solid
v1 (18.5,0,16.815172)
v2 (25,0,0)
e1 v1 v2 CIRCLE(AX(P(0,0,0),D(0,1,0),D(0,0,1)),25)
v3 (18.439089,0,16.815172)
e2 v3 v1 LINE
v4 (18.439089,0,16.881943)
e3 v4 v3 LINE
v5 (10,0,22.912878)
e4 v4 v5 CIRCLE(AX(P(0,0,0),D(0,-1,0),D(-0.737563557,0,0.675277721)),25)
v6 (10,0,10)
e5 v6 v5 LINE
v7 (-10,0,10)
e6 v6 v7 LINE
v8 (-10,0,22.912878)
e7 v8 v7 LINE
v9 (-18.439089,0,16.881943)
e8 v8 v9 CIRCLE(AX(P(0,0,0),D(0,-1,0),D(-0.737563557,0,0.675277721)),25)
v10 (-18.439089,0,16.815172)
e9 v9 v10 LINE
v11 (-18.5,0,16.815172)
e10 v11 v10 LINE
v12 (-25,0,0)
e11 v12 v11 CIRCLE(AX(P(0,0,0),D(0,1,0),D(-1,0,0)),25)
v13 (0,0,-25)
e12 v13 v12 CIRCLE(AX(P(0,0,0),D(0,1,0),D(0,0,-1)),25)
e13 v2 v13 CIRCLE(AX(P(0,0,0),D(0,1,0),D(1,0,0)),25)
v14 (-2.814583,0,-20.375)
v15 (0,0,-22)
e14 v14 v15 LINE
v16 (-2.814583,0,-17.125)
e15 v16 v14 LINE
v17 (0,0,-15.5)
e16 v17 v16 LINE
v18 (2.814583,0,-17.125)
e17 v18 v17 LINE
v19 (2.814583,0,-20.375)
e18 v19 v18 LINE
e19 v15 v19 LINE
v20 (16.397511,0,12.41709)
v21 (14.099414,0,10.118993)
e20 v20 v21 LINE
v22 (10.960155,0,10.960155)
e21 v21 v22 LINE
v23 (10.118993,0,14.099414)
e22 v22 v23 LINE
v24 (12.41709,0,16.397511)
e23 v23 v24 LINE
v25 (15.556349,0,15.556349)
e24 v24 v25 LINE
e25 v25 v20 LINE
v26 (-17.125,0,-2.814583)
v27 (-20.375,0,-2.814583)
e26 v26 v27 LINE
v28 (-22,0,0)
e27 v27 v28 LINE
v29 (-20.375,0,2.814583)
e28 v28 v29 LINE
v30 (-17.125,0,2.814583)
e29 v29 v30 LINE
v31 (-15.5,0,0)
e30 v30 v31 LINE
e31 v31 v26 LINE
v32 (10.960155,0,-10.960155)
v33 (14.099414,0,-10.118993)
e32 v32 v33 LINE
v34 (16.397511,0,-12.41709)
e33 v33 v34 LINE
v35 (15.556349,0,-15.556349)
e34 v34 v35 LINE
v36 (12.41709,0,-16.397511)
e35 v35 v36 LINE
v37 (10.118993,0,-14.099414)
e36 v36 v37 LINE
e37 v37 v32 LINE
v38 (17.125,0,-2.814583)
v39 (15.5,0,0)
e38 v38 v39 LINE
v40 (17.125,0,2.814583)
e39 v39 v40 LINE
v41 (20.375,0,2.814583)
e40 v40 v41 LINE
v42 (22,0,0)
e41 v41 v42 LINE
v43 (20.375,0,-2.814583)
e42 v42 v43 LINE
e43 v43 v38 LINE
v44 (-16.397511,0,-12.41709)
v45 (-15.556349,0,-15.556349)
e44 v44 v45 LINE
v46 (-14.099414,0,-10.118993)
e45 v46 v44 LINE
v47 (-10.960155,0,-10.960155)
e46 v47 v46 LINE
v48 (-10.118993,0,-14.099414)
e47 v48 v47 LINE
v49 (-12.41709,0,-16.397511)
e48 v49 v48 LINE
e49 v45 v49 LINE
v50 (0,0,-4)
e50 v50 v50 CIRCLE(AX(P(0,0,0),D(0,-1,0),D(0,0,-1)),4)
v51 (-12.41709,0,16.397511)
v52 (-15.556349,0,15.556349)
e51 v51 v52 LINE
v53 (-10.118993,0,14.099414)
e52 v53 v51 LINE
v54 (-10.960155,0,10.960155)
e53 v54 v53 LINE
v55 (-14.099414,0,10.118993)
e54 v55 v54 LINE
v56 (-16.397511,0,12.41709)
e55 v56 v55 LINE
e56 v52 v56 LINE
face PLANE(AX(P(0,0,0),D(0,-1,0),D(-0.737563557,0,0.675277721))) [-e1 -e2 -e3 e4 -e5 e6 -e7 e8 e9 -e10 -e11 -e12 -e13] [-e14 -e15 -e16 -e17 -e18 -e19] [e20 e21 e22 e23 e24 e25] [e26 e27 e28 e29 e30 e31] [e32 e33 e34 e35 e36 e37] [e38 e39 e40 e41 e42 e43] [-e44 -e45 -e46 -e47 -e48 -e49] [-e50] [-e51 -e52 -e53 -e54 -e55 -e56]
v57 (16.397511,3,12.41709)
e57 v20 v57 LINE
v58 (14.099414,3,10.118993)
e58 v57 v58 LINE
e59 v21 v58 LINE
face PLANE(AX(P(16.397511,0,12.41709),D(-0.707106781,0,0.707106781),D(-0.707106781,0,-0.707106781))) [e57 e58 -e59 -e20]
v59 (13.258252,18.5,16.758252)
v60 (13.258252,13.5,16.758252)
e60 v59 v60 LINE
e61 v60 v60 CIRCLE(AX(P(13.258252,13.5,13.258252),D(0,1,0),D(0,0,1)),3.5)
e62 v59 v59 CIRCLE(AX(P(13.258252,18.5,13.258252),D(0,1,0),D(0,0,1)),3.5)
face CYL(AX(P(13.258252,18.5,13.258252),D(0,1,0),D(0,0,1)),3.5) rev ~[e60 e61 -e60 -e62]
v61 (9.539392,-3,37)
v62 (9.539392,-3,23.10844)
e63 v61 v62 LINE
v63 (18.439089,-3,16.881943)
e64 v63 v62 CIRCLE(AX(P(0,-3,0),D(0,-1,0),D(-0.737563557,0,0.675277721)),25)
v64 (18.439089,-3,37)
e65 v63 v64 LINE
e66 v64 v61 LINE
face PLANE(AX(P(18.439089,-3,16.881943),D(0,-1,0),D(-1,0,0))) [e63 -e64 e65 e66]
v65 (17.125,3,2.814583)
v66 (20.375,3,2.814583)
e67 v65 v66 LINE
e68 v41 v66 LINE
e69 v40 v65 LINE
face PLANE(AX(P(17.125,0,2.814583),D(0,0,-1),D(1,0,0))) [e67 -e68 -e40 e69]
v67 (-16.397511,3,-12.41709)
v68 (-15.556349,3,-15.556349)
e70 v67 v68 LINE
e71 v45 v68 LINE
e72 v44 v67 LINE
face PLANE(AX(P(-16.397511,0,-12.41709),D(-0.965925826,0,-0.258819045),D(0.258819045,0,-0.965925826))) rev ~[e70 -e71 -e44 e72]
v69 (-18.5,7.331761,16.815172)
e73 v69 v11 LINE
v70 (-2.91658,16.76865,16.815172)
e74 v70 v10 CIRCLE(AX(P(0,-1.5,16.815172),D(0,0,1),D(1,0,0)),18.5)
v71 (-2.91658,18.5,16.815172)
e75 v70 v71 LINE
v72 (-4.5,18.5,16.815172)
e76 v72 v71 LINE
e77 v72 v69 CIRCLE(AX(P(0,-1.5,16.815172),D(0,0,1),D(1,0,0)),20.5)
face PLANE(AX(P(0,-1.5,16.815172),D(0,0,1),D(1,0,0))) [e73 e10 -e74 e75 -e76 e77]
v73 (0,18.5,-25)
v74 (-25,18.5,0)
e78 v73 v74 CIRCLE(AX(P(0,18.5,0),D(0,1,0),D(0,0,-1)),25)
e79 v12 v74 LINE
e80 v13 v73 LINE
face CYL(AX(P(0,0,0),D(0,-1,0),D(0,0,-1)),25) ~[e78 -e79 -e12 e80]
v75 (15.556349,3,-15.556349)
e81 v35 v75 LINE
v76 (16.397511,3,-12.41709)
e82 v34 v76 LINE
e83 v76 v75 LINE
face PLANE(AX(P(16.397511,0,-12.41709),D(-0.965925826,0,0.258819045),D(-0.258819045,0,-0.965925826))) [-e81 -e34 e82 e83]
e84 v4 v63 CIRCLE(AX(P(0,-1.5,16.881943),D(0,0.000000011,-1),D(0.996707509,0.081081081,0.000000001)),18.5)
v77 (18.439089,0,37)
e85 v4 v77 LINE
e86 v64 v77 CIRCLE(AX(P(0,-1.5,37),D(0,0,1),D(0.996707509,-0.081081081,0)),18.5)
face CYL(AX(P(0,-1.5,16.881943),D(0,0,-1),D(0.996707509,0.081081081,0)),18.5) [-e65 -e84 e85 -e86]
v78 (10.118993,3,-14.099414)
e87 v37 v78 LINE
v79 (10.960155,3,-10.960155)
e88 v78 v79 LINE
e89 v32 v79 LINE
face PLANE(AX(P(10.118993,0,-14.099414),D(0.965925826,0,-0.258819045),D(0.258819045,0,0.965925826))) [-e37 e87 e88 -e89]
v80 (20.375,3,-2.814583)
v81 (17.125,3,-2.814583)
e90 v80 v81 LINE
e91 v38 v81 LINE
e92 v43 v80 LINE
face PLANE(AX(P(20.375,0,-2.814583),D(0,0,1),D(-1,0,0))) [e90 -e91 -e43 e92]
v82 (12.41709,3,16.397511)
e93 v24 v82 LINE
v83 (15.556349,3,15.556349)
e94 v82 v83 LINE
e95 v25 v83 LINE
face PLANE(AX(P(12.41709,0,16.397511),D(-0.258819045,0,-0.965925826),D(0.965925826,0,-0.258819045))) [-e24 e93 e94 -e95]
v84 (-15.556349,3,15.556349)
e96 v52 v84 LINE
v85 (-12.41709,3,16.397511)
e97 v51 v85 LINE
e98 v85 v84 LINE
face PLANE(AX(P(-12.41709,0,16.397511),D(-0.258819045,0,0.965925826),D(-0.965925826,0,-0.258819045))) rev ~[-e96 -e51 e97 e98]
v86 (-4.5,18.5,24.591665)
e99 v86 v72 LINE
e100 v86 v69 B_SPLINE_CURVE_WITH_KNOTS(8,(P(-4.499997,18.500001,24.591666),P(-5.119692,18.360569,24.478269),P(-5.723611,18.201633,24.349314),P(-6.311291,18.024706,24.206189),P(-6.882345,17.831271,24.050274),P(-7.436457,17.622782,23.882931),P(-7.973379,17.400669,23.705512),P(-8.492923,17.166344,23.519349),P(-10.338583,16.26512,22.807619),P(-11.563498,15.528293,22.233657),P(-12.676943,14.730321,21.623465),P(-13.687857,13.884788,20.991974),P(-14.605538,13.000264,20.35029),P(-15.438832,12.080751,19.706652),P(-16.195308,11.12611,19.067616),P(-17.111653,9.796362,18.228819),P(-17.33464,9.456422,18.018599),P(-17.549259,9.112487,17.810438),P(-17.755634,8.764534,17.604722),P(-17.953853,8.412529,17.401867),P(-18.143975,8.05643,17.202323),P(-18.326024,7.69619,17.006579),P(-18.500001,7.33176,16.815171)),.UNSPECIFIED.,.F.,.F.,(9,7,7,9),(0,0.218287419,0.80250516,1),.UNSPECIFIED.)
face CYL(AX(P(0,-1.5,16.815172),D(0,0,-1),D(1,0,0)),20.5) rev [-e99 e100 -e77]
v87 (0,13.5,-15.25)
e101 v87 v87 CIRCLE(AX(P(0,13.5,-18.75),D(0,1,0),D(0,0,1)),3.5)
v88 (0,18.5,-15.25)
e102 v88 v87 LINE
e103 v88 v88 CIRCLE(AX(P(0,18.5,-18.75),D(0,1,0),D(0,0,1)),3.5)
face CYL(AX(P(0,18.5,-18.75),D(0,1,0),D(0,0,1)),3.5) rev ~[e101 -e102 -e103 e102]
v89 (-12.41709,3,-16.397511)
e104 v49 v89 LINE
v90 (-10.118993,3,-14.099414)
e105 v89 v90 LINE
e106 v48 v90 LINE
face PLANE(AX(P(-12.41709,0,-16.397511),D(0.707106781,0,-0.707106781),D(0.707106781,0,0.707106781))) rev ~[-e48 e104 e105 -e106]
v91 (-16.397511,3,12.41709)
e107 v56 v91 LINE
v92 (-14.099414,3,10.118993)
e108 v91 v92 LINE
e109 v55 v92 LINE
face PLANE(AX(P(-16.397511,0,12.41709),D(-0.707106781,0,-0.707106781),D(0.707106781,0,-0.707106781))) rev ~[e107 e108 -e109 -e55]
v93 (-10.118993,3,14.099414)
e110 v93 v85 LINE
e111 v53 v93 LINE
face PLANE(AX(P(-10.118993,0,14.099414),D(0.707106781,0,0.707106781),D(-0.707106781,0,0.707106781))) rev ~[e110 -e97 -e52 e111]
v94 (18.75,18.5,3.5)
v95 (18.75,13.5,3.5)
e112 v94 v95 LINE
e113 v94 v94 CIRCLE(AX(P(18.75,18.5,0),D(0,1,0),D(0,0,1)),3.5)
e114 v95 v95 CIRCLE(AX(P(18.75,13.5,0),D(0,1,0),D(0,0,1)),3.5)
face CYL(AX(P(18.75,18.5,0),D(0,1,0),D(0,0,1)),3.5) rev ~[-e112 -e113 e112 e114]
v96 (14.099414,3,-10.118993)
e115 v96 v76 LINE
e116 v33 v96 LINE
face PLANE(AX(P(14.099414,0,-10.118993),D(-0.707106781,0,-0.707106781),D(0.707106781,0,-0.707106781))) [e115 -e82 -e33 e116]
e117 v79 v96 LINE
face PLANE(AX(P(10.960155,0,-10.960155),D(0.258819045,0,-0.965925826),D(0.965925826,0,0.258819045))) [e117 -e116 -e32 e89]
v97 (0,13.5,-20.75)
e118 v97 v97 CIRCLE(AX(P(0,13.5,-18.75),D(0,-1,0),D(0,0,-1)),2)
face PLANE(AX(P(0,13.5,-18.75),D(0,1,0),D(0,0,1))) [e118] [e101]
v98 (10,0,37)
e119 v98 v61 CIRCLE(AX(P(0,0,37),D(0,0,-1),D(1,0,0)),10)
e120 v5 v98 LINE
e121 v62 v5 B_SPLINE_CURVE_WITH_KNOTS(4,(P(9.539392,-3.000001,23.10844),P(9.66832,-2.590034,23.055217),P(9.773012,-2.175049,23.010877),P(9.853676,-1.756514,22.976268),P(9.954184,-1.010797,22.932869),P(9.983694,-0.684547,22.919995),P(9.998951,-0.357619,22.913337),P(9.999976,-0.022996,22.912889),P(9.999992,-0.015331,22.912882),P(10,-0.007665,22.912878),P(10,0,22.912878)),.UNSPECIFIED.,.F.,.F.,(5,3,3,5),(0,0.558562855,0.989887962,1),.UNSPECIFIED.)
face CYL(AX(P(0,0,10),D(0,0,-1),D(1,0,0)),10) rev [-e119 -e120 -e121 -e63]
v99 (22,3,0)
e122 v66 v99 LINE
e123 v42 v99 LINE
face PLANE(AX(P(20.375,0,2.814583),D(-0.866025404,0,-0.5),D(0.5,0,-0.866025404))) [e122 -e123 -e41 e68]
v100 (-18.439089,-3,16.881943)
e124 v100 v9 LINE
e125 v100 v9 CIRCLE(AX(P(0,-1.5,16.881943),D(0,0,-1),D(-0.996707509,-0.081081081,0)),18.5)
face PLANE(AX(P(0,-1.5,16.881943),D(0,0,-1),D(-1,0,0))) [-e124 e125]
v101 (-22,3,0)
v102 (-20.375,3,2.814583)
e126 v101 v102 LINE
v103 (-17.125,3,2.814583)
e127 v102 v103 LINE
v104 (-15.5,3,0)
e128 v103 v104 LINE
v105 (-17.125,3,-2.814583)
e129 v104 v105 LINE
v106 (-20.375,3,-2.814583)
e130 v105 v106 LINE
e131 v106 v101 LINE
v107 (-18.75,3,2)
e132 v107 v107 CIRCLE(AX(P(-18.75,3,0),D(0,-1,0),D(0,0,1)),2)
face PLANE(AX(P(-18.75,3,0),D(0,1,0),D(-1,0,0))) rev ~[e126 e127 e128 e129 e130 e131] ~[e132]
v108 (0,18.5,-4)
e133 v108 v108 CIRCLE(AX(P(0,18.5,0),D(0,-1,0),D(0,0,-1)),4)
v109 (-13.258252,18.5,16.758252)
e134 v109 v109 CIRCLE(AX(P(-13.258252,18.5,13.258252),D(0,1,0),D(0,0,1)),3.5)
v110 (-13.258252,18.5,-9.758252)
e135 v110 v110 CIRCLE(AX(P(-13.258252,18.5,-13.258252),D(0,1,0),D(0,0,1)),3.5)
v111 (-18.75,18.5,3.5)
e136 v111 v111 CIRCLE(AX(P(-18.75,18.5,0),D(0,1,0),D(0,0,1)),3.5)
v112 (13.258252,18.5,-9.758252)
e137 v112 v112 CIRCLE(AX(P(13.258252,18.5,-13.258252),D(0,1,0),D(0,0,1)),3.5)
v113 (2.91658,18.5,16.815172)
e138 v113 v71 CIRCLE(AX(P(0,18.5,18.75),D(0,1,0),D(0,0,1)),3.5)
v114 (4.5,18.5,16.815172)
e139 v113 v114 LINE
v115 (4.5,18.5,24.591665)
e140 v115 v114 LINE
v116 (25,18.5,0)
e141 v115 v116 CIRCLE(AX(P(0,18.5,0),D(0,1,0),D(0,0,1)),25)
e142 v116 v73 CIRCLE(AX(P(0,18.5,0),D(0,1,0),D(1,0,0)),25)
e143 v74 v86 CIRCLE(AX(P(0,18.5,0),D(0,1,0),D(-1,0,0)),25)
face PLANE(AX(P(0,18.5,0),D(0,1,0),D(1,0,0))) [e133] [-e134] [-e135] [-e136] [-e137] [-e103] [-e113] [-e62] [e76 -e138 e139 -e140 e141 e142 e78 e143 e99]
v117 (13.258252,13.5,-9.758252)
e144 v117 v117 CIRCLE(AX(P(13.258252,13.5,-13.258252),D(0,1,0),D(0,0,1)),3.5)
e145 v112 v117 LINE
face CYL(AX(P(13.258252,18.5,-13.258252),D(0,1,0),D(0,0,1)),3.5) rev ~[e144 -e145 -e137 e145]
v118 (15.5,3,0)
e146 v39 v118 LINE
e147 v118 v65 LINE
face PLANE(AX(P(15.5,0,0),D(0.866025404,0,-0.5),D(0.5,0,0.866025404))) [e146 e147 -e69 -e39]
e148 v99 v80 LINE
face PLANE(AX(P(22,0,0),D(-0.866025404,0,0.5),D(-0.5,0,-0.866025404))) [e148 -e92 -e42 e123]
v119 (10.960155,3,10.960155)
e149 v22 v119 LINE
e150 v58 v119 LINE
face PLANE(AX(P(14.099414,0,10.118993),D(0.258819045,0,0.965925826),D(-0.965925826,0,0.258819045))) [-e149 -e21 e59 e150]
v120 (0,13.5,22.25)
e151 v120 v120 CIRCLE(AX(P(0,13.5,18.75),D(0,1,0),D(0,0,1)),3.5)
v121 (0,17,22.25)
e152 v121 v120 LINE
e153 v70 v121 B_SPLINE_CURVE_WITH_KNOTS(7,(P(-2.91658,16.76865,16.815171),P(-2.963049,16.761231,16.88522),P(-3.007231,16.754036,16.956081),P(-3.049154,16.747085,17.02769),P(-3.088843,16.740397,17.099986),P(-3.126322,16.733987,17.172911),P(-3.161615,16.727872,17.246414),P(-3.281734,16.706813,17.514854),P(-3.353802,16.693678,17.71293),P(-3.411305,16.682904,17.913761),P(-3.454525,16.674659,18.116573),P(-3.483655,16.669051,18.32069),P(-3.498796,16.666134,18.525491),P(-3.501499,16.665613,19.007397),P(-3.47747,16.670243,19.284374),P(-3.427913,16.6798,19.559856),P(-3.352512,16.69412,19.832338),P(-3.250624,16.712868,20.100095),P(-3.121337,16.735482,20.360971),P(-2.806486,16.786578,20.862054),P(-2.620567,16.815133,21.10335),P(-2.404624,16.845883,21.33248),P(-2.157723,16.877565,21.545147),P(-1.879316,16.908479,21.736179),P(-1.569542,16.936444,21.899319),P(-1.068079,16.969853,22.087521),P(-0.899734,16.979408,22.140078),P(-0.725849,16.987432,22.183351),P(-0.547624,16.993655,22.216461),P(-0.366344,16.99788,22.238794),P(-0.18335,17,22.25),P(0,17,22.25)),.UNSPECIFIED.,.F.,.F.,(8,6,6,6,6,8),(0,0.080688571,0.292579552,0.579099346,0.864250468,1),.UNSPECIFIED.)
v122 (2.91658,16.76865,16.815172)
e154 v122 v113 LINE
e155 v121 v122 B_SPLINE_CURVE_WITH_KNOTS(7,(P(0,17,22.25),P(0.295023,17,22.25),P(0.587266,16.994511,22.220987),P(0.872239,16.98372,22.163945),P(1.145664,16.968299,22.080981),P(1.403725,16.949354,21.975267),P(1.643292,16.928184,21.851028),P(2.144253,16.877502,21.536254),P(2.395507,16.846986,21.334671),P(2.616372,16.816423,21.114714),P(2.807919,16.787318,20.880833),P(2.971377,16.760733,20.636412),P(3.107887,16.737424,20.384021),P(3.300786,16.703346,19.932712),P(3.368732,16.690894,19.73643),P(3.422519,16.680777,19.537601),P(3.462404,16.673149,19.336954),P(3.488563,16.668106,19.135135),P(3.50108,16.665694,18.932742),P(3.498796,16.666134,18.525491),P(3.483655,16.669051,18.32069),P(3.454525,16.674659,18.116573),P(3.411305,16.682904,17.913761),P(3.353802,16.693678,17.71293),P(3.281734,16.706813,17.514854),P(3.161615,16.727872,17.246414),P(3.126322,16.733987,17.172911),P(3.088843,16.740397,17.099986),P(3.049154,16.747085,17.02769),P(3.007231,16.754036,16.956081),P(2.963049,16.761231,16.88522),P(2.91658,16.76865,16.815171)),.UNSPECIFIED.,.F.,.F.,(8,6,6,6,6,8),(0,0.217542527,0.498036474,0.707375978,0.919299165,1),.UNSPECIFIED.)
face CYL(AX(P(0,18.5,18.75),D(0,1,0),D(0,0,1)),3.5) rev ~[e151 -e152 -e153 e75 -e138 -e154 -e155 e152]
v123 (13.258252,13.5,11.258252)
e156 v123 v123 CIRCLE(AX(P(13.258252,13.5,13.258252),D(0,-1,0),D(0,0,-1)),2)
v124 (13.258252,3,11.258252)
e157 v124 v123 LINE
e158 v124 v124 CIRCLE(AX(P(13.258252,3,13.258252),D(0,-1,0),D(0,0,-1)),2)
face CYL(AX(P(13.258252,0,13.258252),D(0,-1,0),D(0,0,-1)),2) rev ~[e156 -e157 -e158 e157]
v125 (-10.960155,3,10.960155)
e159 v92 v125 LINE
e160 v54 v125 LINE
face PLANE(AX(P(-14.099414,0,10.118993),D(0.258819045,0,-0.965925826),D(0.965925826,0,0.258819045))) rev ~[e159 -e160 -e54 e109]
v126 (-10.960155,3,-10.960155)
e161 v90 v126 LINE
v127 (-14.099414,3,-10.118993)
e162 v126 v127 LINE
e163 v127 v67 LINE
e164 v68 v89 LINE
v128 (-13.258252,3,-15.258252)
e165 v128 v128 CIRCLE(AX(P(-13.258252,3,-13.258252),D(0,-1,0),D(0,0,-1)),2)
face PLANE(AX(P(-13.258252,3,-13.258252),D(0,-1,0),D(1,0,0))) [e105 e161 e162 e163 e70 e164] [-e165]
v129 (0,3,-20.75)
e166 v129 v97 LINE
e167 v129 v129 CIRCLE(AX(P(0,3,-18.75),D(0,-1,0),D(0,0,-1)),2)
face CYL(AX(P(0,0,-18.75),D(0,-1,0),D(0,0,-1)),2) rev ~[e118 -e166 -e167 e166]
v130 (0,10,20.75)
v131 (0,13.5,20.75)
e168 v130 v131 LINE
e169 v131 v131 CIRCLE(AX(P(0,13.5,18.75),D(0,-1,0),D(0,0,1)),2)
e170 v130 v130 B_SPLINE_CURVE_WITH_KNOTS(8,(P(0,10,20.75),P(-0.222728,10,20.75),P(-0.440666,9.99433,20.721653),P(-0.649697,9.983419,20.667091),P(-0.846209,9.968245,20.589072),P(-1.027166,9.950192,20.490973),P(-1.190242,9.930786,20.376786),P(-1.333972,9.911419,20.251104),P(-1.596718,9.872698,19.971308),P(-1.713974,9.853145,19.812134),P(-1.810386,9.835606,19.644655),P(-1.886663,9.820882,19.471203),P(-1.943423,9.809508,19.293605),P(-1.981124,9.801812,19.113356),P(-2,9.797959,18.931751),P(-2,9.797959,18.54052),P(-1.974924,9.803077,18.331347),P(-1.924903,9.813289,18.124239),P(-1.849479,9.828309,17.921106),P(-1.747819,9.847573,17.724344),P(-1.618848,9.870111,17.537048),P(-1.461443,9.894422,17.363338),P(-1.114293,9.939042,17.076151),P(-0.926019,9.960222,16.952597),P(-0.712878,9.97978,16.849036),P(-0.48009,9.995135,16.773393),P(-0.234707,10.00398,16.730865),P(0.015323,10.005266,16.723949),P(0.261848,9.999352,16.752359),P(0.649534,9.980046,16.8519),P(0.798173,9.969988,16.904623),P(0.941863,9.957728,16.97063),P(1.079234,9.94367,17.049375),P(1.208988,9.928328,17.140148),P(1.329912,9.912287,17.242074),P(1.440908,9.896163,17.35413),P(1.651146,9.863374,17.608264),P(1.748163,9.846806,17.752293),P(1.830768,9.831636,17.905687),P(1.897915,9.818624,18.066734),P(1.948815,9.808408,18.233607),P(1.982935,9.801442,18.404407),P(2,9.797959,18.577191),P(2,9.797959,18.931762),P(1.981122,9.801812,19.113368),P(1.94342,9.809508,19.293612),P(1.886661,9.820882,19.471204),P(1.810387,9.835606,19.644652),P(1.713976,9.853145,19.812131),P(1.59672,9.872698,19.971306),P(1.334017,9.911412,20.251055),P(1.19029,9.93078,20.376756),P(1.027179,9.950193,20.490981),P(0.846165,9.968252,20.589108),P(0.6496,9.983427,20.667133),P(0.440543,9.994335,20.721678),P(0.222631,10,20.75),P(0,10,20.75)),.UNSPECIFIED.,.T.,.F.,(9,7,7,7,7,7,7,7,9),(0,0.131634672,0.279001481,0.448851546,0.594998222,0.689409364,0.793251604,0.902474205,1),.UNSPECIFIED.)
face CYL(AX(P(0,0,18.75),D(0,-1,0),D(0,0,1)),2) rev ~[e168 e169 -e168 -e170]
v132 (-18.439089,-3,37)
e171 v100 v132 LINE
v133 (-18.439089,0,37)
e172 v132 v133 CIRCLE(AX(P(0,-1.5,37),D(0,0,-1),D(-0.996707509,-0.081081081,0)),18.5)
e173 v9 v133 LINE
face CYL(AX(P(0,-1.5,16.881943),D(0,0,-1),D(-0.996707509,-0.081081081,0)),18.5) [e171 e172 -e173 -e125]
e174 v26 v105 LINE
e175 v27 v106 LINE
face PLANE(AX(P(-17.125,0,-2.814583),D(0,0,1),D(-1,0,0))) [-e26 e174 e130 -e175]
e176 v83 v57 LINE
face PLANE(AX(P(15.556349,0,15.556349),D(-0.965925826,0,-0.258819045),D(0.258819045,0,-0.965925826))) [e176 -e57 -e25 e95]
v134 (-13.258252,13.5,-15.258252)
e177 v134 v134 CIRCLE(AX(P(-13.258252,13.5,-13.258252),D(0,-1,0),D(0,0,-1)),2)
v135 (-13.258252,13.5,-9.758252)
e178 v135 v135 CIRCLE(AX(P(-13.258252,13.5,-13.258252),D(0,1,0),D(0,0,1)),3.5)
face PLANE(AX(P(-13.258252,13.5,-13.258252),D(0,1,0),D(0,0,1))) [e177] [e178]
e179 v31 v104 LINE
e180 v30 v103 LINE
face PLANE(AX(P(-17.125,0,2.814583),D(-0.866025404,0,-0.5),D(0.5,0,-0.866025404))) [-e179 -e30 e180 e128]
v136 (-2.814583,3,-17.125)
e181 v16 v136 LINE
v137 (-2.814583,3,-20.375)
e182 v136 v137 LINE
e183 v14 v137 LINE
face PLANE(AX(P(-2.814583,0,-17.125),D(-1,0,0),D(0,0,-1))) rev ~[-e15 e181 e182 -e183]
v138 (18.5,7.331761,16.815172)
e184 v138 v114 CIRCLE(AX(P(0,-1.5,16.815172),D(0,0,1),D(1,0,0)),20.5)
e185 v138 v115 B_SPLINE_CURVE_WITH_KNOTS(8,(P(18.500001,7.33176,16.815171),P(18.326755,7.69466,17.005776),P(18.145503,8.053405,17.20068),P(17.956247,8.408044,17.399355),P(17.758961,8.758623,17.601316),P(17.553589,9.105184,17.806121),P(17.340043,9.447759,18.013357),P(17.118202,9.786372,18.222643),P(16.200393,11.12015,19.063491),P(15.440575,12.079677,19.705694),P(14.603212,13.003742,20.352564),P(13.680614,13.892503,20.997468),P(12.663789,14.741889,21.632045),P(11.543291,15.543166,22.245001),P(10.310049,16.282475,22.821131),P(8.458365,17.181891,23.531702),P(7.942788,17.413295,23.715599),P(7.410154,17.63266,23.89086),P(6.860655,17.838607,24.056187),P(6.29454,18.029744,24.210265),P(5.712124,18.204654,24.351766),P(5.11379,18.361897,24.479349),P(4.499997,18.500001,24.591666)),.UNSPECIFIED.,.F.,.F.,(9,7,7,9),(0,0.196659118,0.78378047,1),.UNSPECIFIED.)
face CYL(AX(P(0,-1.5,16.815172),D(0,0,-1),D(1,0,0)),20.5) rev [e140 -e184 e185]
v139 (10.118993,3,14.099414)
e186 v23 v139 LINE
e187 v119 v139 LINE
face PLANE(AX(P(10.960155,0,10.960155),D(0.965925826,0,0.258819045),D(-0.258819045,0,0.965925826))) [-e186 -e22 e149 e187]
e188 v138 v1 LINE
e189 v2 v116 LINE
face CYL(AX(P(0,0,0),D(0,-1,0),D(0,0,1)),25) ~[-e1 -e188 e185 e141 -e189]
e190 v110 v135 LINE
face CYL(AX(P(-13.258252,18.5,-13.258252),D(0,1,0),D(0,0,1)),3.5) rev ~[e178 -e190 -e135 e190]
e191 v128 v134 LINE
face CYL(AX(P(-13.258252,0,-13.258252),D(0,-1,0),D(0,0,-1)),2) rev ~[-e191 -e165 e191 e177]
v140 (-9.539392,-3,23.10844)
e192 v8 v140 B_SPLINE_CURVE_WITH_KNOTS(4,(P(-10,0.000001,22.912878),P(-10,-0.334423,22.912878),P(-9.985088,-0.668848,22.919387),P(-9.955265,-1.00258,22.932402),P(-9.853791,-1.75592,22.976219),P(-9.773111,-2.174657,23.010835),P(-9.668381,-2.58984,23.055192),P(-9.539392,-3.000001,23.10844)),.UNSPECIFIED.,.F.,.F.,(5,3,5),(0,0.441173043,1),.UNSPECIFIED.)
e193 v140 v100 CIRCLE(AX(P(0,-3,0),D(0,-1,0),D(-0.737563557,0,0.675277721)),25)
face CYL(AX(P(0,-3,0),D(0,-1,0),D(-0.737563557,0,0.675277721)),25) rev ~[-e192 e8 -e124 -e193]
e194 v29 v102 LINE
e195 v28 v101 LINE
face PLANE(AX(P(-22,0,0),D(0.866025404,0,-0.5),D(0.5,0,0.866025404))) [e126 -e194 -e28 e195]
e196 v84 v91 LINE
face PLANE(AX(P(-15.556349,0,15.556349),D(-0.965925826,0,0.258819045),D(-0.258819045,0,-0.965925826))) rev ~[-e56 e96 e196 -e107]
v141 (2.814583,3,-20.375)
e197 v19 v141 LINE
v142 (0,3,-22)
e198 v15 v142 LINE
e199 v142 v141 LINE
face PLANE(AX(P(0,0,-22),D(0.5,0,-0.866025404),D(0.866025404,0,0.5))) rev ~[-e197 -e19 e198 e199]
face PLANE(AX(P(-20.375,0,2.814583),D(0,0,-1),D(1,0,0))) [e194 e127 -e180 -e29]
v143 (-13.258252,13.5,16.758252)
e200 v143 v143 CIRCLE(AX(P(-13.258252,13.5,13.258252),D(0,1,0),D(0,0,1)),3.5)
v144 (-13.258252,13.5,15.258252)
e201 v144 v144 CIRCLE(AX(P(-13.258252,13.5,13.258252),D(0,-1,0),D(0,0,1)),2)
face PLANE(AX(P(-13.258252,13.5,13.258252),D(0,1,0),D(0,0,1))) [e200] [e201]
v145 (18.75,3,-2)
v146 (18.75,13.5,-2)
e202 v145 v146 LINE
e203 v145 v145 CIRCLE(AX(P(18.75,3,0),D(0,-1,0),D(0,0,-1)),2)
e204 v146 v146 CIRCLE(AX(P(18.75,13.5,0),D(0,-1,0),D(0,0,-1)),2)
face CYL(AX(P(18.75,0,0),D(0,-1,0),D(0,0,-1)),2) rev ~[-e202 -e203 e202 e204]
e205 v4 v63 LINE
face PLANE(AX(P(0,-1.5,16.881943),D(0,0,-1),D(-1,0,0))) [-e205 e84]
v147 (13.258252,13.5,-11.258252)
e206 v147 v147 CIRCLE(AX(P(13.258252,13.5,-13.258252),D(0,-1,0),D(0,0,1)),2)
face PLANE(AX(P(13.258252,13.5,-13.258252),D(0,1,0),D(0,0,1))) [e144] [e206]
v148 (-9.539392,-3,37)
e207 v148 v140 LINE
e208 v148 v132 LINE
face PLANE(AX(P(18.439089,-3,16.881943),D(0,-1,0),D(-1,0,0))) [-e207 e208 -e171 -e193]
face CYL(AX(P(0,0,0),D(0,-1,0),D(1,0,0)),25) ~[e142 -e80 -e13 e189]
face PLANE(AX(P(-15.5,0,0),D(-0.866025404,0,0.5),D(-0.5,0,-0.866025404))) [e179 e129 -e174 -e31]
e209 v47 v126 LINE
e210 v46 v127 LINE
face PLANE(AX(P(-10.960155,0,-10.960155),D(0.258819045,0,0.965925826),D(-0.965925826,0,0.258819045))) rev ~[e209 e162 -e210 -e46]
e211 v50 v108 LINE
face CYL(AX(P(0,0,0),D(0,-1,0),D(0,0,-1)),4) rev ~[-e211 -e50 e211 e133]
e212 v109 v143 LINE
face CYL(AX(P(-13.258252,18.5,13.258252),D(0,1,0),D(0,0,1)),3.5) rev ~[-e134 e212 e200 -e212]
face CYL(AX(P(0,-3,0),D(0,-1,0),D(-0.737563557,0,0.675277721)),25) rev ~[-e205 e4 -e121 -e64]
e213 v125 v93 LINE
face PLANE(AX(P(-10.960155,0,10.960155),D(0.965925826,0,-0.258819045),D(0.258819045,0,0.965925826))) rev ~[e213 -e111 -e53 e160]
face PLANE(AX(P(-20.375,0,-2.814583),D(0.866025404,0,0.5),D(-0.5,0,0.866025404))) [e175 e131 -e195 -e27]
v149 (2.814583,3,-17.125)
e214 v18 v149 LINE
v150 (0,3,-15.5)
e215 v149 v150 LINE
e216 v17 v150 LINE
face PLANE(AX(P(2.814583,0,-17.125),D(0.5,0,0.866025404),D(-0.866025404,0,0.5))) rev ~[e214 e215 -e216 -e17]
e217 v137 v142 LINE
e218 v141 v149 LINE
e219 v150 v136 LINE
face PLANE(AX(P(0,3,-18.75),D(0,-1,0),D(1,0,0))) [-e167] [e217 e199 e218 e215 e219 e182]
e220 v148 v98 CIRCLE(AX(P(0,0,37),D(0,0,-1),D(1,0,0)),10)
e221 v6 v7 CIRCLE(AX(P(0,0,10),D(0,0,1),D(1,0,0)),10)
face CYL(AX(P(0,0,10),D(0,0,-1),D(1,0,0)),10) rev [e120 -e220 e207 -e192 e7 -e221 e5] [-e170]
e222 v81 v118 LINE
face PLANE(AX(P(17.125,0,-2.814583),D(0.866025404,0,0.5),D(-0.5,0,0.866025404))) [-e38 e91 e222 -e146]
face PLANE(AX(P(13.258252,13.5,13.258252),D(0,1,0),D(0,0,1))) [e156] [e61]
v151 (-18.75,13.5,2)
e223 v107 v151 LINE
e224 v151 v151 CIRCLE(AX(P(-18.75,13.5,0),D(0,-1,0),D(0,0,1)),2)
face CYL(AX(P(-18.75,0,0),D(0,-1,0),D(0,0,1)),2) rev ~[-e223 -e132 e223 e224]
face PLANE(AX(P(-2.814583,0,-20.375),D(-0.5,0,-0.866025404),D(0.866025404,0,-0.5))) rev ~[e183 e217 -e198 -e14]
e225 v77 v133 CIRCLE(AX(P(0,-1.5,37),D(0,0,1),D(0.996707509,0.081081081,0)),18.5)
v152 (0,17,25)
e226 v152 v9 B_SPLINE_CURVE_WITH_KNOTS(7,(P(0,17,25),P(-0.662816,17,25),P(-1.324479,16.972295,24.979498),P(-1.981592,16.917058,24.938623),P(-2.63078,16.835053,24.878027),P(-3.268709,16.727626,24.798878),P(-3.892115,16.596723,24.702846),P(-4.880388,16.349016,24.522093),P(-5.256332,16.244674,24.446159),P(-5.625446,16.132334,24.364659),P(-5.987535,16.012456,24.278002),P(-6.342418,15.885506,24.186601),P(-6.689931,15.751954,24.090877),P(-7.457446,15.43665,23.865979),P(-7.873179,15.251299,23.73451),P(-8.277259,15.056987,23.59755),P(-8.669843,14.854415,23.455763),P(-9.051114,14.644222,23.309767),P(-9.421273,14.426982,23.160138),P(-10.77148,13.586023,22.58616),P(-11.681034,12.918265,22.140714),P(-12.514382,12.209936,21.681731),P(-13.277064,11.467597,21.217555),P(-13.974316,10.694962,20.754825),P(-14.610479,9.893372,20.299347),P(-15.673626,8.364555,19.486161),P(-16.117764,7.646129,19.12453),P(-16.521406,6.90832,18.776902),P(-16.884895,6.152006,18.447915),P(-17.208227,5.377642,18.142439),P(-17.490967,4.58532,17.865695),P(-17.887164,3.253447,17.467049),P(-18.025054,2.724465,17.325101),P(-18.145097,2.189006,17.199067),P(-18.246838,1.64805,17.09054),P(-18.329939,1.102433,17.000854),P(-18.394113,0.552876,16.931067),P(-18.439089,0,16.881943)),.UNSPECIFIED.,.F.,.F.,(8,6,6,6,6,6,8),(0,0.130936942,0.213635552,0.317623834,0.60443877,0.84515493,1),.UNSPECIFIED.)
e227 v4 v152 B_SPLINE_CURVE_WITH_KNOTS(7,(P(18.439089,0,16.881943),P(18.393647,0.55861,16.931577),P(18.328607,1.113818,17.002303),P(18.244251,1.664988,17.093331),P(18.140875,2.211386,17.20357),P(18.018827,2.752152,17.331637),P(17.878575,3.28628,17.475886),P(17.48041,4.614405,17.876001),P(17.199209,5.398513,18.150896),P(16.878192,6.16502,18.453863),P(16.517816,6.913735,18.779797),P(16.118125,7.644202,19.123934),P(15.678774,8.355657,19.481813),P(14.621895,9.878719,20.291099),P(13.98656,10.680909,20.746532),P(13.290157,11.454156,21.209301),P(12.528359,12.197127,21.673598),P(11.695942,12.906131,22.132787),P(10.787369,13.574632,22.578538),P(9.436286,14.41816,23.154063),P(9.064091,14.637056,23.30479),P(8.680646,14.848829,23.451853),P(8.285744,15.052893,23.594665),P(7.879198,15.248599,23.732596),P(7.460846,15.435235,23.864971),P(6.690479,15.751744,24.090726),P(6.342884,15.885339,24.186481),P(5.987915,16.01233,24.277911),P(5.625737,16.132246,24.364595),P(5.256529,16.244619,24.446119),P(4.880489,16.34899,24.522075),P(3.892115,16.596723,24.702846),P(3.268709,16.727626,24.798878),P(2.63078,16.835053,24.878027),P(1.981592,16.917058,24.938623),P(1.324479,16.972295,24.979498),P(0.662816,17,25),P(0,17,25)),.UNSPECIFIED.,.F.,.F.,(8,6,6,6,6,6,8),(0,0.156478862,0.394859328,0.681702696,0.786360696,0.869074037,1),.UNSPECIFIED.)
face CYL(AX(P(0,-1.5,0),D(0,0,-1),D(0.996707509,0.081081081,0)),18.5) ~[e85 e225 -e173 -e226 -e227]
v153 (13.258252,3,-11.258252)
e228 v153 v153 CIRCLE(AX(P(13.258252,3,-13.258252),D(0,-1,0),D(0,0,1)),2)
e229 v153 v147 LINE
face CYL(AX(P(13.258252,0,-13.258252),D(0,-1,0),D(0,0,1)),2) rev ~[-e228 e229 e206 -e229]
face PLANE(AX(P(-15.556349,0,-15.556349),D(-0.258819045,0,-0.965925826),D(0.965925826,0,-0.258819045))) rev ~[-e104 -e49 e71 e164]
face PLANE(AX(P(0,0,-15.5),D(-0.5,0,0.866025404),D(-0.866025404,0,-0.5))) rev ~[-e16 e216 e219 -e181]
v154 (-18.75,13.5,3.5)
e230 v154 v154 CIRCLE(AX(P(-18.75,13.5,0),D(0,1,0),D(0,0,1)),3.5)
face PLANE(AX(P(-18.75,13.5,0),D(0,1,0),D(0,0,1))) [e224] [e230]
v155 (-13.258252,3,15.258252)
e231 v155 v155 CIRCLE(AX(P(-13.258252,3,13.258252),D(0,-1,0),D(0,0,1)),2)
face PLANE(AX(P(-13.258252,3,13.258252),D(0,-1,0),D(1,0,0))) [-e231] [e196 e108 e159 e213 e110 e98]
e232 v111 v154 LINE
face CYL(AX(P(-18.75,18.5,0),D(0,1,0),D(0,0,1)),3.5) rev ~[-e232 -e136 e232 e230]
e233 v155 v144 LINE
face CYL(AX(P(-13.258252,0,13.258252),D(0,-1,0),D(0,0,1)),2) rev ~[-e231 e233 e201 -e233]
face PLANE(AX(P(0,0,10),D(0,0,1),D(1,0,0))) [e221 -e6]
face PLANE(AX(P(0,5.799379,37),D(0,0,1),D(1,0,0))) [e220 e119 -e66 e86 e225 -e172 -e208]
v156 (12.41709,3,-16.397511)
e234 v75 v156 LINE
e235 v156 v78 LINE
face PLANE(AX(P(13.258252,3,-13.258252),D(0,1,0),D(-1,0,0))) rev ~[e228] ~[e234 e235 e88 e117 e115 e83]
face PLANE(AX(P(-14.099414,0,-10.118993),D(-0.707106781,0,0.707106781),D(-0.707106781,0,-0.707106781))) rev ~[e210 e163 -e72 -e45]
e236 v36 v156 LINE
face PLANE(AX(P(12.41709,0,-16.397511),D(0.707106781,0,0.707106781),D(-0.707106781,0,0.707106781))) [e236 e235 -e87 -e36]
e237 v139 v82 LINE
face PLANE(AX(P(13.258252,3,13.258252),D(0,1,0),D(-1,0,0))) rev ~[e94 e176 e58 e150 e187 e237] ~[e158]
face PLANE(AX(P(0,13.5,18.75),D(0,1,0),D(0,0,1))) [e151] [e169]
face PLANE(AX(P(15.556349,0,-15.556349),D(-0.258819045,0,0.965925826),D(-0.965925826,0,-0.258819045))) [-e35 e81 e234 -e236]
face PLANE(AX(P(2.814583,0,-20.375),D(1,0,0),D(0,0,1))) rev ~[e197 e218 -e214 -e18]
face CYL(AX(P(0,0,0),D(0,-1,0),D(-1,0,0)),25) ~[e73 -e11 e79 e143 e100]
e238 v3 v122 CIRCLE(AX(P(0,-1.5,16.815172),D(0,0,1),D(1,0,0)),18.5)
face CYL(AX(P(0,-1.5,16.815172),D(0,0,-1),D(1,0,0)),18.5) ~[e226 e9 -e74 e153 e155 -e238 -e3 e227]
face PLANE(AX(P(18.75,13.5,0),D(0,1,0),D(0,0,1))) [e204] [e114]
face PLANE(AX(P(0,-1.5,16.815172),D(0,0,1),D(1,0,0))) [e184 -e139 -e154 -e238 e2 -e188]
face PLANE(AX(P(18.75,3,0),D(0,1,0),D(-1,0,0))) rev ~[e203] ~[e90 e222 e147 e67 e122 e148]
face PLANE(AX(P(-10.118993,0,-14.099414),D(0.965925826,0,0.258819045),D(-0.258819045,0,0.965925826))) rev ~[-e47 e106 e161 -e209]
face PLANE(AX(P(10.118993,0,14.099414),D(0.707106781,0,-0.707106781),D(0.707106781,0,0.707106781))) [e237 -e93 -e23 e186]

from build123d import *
from build123d.topology import SkipClean

# Parameters (mm, degrees)
EXTRUDE_2_DEPTH     = 18.5
EXTRUDE_3_DEPTH     = 37
SKETCH_7_R          = 4
SKETCH_7_R_2        = 2
CUT_EXTRUDE_1_DEPTH = 49.33477026
EXTRUDE_START       = -20.118057
EXTRUDE_5_DEPTH     = 20.118057
SKETCH_9_R          = 25
CUT_EXTRUDE_2_DEPTH = 3
CUT_EXTRUDE_3_REACH = 54.113
SKETCH_10_R         = 20.5
SKETCH_10_R_2       = 18.5
SKETCH_11_R         = 3.5
CUT_EXTRUDE_4_DEPTH = 5
CUT_EXTRUDE_5_DEPTH = 3
SKETCH_13_R         = 10
CUT_EXTRUDE_7_DEPTH = 47.821469602


with BuildPart() as part:
    # 草图1 → 凸台-拉伸2 (new body)
    with BuildSketch(Plane(origin=(0, 0, 0), x_dir=(1, 0, 0), z_dir=(0, 1, 0))):
        with BuildLine():
            ThreePointArc((0, 25), (-17.67766953, 17.67766953), (-25, 0))
            ThreePointArc((-25, 0), (-17.67766953, -17.67766953), (0, -25))
            ThreePointArc((0, -25), (17.67766953, -17.67766953), (25, 0))
            ThreePointArc((25, 0), (17.67766953, 17.67766953), (0, 25))
        make_face()
    extrude(amount=EXTRUDE_2_DEPTH)

    # 草图4 → 凸台-拉伸3 (add)
    with BuildSketch(Plane.XY):
        with BuildLine():
            Line((-18.439088915, 0), (18.439088915, 0))
            ThreePointArc((18.439088915, 0), (0, 17), (-18.439088915, 0))
        make_face()
    extrude(amount=EXTRUDE_3_DEPTH)

    # 草图7 → 切除-拉伸1 (cut, through all)
    with BuildSketch(Plane.XZ):
        with Locations(Location((0, 0, 0), (0, 0, 270))):
            Circle(SKETCH_7_R)
        with Locations(Location((18.75, 0, 0), (0, 0, 270))):
            Circle(SKETCH_7_R_2)
        with Locations(Location((13.258252147, 13.258252147, 0), (0, 0, 270))):
            Circle(SKETCH_7_R_2)
        with Locations(Location((0, 18.75, 0), (0, 0, 90))):
            Circle(SKETCH_7_R_2)
        with Locations(Location((-18.75, 0, 0), (0, 0, 90))):
            Circle(SKETCH_7_R_2)
        with Locations(Location((-13.258252147, 13.258252147, 0), (0, 0, 90))):
            Circle(SKETCH_7_R_2)
        with Locations(Location((13.258252147, -13.258252147, 0), (0, 0, 90))):
            Circle(SKETCH_7_R_2)
        with Locations(Location((0, -18.75, 0), (0, 0, 270))):
            Circle(SKETCH_7_R_2)
        with Locations(Location((-13.258252147, -13.258252147, 0), (0, 0, 270))):
            Circle(SKETCH_7_R_2)
    extrude(amount=-CUT_EXTRUDE_1_DEPTH, mode=Mode.SUBTRACT)

    # 草图8 → 凸台-拉伸5 (add)
    with SkipClean():  # the faces are left unmerged after this step: merging them gives an invalid solid
        with BuildSketch(Plane.XY.offset(37).offset(EXTRUDE_START)):
            with BuildLine():
                Line((-18.439088915, 0), (18.439088915, 0))
                ThreePointArc((18.439088915, 0), (18.5, -1.5), (18.439088915, -3))
                Line((18.439088915, -3), (-18.439088915, -3))
                ThreePointArc((-18.439088915, -3), (-18.5, -1.5), (-18.439088915, 0))
            make_face()
        extrude(amount=EXTRUDE_5_DEPTH)

    # 草图9 → 切除-拉伸2 (cut)
    with SkipClean():  # the faces are left unmerged after this step: merging them gives an invalid solid
        with BuildSketch(Plane.XZ.offset(3)):
            with Locations(Location((0, 0, 0), (0, 0, 137.524279479))):
                Circle(SKETCH_9_R)
        extrude(amount=-CUT_EXTRUDE_2_DEPTH, mode=Mode.SUBTRACT)

    # 切除-拉伸3: up to this face of the body (flat: up to its plane)
    cut_extrude_3_end = Plane(part.part.faces().sort_by_distance((0, 7.168233696, 37))[0])
    # 草图10 → 切除-拉伸3 (cut, up to the picked face)
    with BuildSketch(Plane.XY.offset(16.815171721), mode=Mode.PRIVATE) as cut_extrude_3_sk1:
        with Locations((0, -1.5)):
            Circle(SKETCH_10_R)
        with Locations((0, -1.5)):
            Circle(SKETCH_10_R_2, mode=Mode.SUBTRACT)
    cut_extrude_3_tool1 = split(extrude(cut_extrude_3_sk1.sketch, amount=CUT_EXTRUDE_3_REACH, mode=Mode.PRIVATE), bisect_by=cut_extrude_3_end, keep=Keep.BOTH, mode=Mode.PRIVATE)
    add(cut_extrude_3_tool1.solids().sort_by(Axis((-19.920172, -1.5, 16.815172), (0, 0, 1)))[0], mode=Mode.SUBTRACT)

    # 草图11 → 切除-拉伸4 (cut)
    with SkipClean():  # the faces are left unmerged after this step: merging them gives an invalid solid
        with BuildSketch(Plane(origin=(0, 18.5, 0), x_dir=(1, 0, 0), z_dir=(0, 1, 0))):
            with Locations(Location((0, 18.75, 0), (0, 0, 270))):
                Circle(SKETCH_11_R)
            with Locations(Location((13.258252147, 13.258252147, 0), (0, 0, 270))):
                Circle(SKETCH_11_R)
            with Locations(Location((18.75, 0, 0), (0, 0, 270))):
                Circle(SKETCH_11_R)
            with Locations(Location((13.258252147, -13.258252147, 0), (0, 0, 270))):
                Circle(SKETCH_11_R)
            with Locations(Location((0, -18.75, 0), (0, 0, 270))):
                Circle(SKETCH_11_R)
            with Locations(Location((-13.258252147, -13.258252147, 0), (0, 0, 270))):
                Circle(SKETCH_11_R)
            with Locations(Location((-18.75, 0, 0), (0, 0, 270))):
                Circle(SKETCH_11_R)
            with Locations(Location((-13.258252147, 13.258252147, 0), (0, 0, 270))):
                Circle(SKETCH_11_R)
        extrude(amount=-CUT_EXTRUDE_4_DEPTH, mode=Mode.SUBTRACT)

    # 草图12 → 切除-拉伸5 (cut)
    with SkipClean():  # the faces are left unmerged after this step: merging them gives an invalid solid
        with BuildSketch(Plane.XZ):
            Polygon((0, 22), (-2.814582562, 20.375), (-2.814582562, 17.125), (0, 15.5), (2.814582562, 17.125), (2.814582562, 20.375), align=None)
            Polygon((12.417090251, 16.397511083), (15.556349186, 15.556349186), (16.397511083, 12.417090251), (14.099414044, 10.118993212), (10.960155108, 10.960155108), (10.118993212, 14.099414044), align=None)
            Polygon((-15.556349186, 15.556349186), (-16.397511083, 12.417090251), (-14.099414044, 10.118993212), (-10.960155108, 10.960155108), (-10.118993212, 14.099414044), (-12.417090251, 16.397511083), align=None)
            Polygon((16.397511083, -12.417090251), (15.556349186, -15.556349186), (12.417090251, -16.397511083), (10.118993212, -14.099414044), (10.960155108, -10.960155108), (14.099414044, -10.118993212), align=None)
            Polygon((20.375, 2.814582562), (22, 0), (20.375, -2.814582562), (17.125, -2.814582562), (15.5, 0), (17.125, 2.814582562), align=None)
            Polygon((-17.125, 2.814582562), (-15.5, 0), (-17.125, -2.814582562), (-20.375, -2.814582562), (-22, 0), (-20.375, 2.814582562), align=None)
            Polygon((0, -22), (2.814582562, -20.375), (2.814582562, -17.125), (0, -15.5), (-2.814582562, -17.125), (-2.814582562, -20.375), align=None)
            Polygon((-15.556349186, -15.556349186), (-12.417090251, -16.397511083), (-10.118993212, -14.099414044), (-10.960155108, -10.960155108), (-14.099414044, -10.118993212), (-16.397511083, -12.417090251), align=None)
        extrude(amount=-CUT_EXTRUDE_5_DEPTH, mode=Mode.SUBTRACT)

    # 草图13 → 切除-拉伸7 (cut, through all)
    with SkipClean():  # the faces are left unmerged after this step: merging them gives an invalid solid
        with BuildSketch(Plane.XY.offset(10)):
            Circle(SKETCH_13_R)
        extrude(amount=CUT_EXTRUDE_7_DEPTH, mode=Mode.SUBTRACT)


solid = part.part
